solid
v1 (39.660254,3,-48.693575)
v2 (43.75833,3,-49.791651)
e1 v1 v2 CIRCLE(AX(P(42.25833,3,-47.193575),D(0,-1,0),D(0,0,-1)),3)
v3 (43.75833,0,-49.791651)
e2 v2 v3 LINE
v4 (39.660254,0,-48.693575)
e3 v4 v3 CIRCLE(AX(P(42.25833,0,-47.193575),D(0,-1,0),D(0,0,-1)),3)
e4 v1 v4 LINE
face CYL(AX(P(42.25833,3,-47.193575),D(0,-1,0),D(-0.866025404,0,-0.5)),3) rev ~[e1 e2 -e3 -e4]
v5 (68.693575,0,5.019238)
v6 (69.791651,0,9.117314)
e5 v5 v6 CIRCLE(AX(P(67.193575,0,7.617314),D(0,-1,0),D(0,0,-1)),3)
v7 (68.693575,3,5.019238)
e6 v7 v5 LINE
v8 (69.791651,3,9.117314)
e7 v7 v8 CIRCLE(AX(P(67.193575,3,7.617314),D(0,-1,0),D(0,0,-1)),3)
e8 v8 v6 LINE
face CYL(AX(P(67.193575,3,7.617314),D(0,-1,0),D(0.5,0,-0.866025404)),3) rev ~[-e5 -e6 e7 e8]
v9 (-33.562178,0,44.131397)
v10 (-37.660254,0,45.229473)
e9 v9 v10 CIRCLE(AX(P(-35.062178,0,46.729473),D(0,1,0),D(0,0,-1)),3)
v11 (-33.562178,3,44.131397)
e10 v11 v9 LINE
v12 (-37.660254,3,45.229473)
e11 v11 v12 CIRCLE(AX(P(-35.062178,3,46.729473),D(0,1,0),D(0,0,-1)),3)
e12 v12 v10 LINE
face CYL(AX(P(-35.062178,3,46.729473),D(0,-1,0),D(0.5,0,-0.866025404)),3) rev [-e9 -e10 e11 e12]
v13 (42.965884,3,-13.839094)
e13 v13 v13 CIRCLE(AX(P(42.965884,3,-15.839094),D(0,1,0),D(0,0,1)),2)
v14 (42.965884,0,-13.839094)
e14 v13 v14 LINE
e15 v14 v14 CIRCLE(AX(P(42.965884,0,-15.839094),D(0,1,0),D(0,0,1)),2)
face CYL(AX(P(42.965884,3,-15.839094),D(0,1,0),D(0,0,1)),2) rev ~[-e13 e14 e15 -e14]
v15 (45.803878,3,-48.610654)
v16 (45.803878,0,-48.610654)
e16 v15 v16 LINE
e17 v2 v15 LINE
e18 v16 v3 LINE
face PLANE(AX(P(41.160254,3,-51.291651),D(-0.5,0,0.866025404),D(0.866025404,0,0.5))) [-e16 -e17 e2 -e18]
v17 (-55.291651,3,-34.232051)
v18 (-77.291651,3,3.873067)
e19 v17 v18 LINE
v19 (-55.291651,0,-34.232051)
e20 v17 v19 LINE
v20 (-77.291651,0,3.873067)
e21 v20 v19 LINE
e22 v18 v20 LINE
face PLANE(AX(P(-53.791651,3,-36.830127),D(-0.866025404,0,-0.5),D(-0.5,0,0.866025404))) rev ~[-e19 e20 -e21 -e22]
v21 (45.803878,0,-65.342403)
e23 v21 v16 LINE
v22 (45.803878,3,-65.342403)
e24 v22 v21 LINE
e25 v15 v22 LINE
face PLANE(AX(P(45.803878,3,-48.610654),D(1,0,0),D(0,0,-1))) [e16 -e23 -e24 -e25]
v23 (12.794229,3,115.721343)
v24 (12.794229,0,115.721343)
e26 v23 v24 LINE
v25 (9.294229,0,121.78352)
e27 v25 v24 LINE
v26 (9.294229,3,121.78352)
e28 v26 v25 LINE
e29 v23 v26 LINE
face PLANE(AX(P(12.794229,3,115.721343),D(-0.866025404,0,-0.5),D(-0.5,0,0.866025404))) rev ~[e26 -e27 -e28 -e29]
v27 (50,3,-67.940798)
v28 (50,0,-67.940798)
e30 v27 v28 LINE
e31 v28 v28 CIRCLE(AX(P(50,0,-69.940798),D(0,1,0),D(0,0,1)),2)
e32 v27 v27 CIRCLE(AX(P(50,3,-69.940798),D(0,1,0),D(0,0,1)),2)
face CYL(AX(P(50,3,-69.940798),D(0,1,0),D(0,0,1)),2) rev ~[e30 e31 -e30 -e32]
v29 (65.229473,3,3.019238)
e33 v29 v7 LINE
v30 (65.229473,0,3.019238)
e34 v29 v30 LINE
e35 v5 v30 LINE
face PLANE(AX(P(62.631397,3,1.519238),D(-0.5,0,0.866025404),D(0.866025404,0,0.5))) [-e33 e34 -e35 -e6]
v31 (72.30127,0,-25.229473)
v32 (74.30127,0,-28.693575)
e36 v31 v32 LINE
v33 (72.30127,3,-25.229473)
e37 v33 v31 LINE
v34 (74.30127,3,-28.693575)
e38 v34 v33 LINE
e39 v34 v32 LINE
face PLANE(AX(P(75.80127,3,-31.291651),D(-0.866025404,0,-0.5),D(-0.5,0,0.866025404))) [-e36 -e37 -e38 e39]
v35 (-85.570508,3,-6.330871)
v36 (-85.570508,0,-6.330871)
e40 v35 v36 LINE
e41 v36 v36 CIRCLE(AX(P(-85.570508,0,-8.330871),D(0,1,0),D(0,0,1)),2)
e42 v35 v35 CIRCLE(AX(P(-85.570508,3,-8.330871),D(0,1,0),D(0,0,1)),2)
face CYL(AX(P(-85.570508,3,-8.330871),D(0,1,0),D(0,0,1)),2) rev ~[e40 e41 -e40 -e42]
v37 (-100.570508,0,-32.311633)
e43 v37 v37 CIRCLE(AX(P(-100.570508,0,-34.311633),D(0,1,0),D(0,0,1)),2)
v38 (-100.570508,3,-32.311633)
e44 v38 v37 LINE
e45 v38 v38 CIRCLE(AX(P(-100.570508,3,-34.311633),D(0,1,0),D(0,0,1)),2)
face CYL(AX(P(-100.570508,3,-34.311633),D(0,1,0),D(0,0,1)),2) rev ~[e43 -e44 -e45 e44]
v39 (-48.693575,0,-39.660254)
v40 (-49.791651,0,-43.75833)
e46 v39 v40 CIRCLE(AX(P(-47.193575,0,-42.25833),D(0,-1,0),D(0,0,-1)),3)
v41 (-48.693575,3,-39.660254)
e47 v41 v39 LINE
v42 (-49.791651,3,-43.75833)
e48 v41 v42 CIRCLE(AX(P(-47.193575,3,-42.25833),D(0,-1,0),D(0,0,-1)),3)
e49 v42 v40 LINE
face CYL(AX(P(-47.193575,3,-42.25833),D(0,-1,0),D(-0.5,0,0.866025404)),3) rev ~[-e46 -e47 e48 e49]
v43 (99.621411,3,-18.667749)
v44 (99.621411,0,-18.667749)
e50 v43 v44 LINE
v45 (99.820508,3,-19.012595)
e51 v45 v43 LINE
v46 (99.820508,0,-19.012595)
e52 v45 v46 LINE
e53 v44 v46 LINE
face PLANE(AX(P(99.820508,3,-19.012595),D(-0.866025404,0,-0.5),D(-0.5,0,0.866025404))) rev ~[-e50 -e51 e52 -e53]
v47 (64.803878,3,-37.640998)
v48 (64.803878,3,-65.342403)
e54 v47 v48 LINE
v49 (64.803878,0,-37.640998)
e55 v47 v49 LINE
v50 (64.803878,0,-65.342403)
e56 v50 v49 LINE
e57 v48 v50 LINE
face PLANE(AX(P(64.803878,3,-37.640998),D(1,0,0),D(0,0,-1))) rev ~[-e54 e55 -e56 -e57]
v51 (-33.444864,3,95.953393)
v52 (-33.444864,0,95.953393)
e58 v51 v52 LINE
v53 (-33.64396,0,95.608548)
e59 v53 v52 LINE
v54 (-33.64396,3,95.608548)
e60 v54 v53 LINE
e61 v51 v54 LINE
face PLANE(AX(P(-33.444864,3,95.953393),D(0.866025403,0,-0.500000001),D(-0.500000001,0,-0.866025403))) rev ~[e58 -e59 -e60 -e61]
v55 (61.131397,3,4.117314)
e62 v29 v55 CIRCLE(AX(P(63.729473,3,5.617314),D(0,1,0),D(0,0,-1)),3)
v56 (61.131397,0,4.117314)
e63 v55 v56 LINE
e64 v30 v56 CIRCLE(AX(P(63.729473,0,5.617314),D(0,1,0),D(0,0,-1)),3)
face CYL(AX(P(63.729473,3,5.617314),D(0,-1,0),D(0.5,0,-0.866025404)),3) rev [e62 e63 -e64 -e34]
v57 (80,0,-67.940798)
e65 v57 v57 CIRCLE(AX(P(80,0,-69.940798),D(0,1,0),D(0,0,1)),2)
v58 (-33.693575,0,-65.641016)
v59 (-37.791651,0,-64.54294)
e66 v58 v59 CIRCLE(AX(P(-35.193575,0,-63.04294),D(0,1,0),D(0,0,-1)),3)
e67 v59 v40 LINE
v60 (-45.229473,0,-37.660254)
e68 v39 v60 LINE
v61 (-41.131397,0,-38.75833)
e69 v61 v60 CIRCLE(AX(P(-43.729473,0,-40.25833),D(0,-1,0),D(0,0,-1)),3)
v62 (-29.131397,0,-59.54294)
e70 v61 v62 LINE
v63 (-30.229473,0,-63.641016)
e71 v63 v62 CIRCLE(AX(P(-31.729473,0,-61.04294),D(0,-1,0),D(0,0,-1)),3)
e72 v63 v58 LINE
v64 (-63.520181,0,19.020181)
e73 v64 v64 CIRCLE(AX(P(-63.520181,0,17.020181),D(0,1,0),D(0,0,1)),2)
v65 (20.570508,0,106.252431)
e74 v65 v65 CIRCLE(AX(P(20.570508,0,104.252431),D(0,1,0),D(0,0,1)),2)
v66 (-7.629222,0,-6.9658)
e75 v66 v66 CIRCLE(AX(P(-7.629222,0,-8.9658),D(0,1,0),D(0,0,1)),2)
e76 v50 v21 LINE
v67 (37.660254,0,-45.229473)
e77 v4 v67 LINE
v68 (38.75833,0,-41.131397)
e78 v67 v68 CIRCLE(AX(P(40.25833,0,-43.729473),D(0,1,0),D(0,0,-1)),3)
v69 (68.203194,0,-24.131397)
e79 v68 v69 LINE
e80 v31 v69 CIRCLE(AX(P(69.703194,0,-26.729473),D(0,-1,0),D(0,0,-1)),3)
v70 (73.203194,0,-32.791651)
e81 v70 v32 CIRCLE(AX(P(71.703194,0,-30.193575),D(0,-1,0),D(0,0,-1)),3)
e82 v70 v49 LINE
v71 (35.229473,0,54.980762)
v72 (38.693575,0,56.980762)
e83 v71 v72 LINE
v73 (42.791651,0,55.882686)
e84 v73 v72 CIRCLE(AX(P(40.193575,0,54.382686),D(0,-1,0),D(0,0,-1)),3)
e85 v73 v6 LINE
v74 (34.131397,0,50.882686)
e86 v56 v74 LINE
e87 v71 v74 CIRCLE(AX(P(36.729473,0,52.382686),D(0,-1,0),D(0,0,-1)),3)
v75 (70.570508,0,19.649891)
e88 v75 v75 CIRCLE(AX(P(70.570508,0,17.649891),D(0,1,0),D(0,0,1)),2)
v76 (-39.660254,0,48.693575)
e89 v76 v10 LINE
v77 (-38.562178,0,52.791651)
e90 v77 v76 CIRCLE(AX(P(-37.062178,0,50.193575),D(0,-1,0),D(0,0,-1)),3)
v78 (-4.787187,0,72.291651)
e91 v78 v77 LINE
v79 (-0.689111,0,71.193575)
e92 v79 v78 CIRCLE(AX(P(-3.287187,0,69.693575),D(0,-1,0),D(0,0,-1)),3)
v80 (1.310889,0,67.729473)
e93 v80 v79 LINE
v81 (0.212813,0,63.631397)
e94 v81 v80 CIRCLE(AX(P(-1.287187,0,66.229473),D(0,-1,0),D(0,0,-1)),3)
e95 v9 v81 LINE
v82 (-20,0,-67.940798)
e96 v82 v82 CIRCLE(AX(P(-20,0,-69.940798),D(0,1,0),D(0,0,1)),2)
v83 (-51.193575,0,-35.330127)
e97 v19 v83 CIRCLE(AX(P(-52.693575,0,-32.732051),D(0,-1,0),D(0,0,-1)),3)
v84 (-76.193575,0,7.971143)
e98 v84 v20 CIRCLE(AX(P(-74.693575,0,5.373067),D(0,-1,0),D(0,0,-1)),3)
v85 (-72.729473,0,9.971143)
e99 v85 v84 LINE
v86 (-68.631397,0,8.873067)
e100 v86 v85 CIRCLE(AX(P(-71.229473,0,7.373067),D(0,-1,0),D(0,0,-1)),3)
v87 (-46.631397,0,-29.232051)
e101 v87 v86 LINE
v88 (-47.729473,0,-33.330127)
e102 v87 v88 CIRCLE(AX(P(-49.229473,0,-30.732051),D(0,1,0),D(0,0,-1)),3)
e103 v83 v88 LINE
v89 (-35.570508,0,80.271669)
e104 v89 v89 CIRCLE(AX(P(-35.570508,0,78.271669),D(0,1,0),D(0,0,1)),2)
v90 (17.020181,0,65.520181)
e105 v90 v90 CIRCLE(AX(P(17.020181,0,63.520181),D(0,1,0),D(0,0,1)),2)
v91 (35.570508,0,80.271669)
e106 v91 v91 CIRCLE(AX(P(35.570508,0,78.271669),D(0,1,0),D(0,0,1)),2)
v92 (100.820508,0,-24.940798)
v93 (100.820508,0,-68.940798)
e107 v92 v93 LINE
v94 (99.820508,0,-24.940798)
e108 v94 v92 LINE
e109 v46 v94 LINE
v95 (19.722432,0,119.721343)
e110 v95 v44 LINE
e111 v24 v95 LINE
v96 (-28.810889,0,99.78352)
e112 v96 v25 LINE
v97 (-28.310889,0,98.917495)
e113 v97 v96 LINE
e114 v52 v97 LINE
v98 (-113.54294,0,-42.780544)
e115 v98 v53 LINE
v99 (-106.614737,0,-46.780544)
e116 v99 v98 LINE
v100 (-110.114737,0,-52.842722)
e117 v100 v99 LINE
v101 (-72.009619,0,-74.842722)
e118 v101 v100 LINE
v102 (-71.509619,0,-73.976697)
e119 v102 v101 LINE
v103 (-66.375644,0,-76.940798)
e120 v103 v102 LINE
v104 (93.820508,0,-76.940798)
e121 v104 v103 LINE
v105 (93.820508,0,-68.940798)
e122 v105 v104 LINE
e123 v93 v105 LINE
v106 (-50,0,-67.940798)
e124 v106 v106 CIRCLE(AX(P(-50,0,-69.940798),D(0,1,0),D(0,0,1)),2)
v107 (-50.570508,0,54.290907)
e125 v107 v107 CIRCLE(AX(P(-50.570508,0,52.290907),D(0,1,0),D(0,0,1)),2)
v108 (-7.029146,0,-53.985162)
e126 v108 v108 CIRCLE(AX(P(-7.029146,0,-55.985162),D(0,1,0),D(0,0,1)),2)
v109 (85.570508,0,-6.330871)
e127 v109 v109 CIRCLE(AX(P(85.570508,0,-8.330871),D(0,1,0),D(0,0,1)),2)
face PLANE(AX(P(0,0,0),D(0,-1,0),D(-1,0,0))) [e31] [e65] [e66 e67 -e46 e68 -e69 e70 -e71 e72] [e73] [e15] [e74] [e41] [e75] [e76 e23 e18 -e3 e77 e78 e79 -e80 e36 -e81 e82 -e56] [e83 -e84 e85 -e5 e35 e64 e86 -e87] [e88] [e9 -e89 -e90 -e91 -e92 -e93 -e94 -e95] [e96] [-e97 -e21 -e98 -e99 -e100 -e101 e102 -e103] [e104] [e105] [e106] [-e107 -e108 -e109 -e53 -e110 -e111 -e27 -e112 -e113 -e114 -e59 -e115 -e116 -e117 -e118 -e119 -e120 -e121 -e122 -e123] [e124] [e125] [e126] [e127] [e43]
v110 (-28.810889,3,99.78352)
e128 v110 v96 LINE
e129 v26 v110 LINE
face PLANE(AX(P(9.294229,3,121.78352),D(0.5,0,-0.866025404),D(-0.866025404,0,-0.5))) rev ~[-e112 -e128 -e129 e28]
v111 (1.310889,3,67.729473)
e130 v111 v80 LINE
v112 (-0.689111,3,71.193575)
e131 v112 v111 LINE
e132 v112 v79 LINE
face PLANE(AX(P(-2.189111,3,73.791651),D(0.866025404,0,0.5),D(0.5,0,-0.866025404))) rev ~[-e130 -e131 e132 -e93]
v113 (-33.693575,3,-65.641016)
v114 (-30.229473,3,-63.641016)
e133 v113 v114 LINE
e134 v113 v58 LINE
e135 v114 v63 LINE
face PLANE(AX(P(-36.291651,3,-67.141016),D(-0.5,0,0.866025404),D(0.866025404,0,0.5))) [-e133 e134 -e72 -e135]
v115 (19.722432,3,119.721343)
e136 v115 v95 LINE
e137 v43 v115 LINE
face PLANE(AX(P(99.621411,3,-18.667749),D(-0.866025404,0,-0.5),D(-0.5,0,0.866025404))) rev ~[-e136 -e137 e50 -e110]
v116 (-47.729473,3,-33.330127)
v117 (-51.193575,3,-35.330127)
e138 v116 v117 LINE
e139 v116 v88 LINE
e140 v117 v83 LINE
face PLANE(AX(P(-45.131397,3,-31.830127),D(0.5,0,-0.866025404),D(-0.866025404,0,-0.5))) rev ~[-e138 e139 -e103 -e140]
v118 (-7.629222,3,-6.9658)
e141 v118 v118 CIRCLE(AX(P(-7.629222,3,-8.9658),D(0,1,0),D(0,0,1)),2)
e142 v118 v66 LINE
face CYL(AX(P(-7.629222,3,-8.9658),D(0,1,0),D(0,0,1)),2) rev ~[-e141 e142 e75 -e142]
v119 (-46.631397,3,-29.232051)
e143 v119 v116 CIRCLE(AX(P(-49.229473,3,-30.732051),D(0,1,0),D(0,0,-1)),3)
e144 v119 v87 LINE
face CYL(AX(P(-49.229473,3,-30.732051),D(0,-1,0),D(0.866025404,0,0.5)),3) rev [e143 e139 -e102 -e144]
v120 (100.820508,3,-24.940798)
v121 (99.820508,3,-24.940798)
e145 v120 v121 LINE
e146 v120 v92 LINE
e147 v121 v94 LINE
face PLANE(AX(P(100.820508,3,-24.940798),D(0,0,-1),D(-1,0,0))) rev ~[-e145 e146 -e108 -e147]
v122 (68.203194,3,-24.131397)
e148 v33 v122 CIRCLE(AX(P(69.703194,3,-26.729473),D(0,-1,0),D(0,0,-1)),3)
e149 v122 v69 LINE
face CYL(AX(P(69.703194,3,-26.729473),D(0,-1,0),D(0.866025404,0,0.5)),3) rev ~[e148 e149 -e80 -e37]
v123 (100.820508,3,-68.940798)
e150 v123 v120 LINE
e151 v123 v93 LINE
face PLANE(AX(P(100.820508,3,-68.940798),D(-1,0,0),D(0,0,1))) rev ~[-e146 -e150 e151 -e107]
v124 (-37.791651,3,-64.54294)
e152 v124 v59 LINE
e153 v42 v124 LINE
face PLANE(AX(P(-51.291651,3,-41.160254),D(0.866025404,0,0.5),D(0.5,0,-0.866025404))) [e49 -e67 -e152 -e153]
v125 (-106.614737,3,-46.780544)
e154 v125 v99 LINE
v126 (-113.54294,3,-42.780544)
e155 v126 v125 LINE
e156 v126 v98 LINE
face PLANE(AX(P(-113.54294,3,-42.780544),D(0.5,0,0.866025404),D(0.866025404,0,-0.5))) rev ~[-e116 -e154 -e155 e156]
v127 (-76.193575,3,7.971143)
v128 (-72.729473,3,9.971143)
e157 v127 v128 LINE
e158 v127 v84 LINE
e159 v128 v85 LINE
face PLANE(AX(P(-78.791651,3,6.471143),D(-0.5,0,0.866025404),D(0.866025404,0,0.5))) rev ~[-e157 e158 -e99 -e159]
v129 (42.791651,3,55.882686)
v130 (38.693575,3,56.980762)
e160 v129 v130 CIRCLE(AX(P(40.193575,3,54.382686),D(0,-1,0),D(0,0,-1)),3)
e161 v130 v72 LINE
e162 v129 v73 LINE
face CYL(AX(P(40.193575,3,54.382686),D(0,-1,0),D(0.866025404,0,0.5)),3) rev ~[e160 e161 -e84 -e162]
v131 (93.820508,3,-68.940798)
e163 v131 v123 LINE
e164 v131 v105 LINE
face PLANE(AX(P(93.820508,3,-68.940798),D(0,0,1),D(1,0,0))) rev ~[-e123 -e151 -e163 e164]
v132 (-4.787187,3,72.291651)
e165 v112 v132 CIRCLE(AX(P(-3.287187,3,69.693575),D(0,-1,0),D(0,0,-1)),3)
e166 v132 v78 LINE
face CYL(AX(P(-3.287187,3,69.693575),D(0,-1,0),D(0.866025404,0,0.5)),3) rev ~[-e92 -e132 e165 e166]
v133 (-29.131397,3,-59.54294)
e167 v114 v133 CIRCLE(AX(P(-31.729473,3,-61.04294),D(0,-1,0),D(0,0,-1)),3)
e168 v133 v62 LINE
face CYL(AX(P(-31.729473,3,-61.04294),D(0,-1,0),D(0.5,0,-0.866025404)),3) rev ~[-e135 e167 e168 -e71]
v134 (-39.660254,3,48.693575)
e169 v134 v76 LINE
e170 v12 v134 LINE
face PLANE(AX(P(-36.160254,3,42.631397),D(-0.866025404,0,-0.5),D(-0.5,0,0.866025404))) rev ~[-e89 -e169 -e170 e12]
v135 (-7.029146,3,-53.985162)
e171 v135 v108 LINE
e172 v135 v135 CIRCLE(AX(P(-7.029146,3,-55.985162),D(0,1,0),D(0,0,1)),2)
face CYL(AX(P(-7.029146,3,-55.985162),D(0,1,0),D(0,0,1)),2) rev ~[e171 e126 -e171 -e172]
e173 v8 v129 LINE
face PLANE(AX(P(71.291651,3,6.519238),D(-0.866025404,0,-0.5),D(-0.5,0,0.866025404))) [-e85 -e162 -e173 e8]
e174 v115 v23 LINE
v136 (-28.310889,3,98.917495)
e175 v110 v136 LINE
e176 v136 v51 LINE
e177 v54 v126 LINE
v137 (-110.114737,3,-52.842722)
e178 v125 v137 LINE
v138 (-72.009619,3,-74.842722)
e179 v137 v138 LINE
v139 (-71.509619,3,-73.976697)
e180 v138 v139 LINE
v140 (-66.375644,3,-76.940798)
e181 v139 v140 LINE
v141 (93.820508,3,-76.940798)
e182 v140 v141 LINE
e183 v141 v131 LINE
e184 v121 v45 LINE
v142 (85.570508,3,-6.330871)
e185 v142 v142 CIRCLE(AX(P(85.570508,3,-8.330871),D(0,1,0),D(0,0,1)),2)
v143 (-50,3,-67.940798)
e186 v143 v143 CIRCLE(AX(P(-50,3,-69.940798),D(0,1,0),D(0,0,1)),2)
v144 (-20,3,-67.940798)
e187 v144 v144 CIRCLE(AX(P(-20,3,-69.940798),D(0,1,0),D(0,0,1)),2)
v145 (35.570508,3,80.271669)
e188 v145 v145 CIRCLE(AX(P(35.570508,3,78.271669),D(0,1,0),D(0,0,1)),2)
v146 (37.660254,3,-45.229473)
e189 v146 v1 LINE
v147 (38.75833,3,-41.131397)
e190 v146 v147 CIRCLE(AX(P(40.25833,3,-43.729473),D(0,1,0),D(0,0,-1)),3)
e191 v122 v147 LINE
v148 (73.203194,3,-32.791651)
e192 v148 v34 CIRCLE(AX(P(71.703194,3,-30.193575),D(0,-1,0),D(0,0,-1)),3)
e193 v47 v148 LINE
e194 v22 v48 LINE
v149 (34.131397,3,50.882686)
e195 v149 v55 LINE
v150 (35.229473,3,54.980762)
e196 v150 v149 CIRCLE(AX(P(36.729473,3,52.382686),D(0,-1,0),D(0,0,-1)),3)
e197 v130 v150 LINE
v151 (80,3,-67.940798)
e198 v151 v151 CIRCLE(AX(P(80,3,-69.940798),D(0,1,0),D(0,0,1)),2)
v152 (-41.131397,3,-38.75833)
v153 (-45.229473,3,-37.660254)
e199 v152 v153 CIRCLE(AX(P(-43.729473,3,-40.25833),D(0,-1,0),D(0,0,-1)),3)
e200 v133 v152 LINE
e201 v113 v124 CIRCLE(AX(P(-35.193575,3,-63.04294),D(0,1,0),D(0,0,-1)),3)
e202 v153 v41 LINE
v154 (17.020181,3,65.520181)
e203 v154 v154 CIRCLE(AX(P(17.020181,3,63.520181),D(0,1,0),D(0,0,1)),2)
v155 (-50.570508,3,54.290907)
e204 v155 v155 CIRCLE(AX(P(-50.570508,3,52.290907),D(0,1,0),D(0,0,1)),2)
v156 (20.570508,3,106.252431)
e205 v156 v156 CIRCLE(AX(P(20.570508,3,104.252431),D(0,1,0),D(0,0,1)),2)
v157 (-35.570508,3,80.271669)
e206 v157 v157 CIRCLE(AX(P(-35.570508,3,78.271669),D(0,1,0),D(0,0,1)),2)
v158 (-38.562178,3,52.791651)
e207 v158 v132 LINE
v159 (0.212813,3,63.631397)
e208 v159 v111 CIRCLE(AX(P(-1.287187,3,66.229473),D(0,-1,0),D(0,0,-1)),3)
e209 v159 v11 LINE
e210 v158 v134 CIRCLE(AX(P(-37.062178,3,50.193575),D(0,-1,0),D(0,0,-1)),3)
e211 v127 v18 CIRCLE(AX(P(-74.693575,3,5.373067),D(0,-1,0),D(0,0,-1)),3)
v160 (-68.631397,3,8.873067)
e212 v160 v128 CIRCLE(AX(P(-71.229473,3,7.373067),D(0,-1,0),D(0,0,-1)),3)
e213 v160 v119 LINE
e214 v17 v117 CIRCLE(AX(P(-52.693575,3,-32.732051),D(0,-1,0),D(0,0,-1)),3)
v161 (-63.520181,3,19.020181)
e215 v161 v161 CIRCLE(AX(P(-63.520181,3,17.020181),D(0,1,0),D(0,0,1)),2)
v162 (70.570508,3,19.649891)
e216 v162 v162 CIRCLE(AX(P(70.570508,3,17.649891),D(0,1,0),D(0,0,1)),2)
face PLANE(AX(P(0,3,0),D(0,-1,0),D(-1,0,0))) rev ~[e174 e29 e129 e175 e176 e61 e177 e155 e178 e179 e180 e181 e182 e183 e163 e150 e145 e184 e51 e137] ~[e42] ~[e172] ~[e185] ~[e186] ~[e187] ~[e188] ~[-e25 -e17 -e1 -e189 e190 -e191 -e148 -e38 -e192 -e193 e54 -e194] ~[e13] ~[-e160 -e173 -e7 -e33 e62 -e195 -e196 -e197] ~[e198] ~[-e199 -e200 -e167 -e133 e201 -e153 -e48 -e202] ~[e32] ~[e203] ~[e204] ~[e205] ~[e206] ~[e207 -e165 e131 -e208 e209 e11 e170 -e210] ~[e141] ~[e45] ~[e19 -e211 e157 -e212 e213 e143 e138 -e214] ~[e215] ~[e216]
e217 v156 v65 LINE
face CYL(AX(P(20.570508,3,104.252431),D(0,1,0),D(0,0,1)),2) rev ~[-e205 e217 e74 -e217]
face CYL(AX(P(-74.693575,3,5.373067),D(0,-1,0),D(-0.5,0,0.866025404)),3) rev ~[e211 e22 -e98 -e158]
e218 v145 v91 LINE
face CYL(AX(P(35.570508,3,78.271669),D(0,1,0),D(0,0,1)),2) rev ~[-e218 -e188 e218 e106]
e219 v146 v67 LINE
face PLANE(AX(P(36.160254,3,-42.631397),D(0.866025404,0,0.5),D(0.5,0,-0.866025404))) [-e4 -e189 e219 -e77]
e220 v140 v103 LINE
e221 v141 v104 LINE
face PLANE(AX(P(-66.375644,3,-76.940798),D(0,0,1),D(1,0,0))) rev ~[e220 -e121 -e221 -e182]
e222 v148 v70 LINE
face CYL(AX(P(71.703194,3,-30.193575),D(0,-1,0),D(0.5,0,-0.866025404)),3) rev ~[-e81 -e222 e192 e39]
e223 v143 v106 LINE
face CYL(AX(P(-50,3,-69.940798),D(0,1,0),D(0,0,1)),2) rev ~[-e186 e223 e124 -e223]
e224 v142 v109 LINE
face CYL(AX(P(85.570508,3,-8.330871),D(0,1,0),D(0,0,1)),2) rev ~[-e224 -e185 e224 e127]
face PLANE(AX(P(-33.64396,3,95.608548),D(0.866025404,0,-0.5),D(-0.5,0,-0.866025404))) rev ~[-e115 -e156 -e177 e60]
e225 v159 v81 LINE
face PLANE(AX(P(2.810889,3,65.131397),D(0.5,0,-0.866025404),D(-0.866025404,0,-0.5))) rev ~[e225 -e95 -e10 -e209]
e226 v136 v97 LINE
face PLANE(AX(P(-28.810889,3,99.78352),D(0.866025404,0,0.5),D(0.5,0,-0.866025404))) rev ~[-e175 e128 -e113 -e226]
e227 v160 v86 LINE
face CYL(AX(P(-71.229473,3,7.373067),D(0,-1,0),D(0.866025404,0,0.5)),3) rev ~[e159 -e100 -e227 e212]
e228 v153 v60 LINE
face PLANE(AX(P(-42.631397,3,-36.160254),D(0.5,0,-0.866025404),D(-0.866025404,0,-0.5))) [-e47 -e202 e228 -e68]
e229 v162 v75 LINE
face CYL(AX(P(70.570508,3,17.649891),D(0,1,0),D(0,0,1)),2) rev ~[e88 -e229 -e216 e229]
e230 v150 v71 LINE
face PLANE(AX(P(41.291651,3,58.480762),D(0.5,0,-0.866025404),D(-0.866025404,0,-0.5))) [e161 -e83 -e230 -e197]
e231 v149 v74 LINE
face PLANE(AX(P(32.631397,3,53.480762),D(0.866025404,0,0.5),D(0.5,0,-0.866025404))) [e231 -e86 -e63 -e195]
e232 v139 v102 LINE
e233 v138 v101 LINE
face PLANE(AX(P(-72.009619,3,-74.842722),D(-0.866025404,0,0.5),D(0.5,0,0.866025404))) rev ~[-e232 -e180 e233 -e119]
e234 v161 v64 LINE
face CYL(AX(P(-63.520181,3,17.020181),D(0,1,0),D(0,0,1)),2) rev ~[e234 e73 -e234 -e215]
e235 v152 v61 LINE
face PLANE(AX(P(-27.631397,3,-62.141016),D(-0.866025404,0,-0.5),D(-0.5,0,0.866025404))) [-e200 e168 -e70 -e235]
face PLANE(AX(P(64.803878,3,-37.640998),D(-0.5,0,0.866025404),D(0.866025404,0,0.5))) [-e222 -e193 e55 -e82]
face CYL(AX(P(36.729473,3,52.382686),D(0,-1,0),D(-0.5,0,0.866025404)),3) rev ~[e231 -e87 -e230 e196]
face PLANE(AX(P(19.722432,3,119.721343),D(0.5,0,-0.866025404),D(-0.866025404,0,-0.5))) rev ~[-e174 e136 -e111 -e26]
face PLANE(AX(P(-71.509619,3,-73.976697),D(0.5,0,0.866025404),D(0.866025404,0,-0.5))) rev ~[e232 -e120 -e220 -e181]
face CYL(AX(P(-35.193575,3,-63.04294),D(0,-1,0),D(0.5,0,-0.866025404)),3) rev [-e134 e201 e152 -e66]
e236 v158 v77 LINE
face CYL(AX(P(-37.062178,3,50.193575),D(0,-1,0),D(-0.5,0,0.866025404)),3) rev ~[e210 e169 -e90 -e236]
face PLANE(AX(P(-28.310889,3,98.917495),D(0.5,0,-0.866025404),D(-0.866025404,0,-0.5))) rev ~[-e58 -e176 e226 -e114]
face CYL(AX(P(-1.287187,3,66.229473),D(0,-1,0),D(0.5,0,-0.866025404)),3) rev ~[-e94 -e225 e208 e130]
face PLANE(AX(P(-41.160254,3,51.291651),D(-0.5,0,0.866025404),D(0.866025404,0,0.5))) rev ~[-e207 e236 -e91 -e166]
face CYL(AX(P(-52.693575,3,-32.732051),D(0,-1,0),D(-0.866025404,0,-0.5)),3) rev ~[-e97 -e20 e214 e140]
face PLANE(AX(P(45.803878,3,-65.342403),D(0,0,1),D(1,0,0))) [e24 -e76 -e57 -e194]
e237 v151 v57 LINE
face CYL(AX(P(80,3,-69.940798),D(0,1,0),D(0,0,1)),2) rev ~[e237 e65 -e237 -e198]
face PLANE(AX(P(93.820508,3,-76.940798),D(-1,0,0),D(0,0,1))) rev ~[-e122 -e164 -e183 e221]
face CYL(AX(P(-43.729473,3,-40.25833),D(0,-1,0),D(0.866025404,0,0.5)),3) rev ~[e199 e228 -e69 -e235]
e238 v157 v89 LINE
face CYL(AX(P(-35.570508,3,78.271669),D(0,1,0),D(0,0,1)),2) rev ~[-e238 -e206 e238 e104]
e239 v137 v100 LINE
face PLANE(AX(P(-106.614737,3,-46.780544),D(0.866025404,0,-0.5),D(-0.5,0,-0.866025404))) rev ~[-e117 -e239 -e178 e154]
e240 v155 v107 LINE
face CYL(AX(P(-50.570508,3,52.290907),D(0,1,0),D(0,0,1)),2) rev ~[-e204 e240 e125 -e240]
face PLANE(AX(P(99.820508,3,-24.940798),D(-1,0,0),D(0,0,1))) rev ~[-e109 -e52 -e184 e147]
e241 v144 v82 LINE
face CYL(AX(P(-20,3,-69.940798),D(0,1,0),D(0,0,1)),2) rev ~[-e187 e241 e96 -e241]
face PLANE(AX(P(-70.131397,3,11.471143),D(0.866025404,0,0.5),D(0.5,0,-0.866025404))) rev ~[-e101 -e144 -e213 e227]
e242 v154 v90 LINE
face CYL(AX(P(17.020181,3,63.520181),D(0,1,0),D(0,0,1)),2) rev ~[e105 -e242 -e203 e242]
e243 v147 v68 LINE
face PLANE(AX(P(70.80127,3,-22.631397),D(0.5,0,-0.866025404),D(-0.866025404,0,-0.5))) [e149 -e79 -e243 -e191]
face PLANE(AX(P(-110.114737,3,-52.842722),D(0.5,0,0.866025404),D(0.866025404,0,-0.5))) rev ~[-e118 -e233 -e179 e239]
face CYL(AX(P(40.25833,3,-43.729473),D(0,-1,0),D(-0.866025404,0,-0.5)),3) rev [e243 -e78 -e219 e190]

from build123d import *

# Parameters (mm, degrees)
EXTRUSION1_DEPTH         = 3
ENL_V_MAT_EXTRU_14_REACH = 176.1
ESQUISSE8_R              = 2
ESQUISSE10_R             = 2
ENL_V_MAT_EXTRU_16_DEPTH = 175.099861741
ENL_V_MAT_EXTRU_17_DEPTH = 175.099861741
ENL_V_MAT_EXTRU_18_DEPTH = 167.529952384
CONG_1_R                 = 3


with BuildPart() as part:
    # Esquisse1 → Extrusion1 (new body)
    with BuildSketch(Plane(origin=(0, 0, 0), x_dir=(1, 0, 0), z_dir=(0, 1, 0))):
        Polygon((-64.179491924, 79.940798285), (98.820508076, 79.940798285), (103.820508076, 74.940798285), (103.820508076, 24.940798285), (101.320508076, 15.610671266), (19.820508076, -125.551469551), (12.990381057, -127.38159657), (-30.310889132, -102.38159657), (-37.141016151, -95.551469551), (-118.641016151, 45.610671266), (-116.810889132, 52.440798285), (-73.509618943, 77.440798285), align=None)
    extrude(amount=EXTRUSION1_DEPTH)

    # Esquisse8 → Enlèv. mat.-Extru.14 (cut, up to next)
    with BuildSketch(Plane(origin=(0, 3, 0), x_dir=(1, 0, 0), z_dir=(0, 1, 0)), mode=Mode.PRIVATE) as enl_v_mat_extru_14_sk1:
        with Locations(Location((-100.570508076, 34.31163316, 0), (0, 0, 270))):
            Circle(ESQUISSE8_R)
    enl_v_mat_extru_14_tool1 = extrude(enl_v_mat_extru_14_sk1.sketch, amount=-ENL_V_MAT_EXTRU_14_REACH, mode=Mode.PRIVATE) & part.part
    # Esquisse8 → Enlèv. mat.-Extru.14 (cut, up to next)
    with BuildSketch(Plane(origin=(0, 3, 0), x_dir=(1, 0, 0), z_dir=(0, 1, 0)), mode=Mode.PRIVATE) as enl_v_mat_extru_14_sk2:
        with Locations(Location((80, 69.940798285, 0), (0, 0, 270))):
            Circle(ESQUISSE8_R)
    enl_v_mat_extru_14_tool2 = extrude(enl_v_mat_extru_14_sk2.sketch, amount=-ENL_V_MAT_EXTRU_14_REACH, mode=Mode.PRIVATE) & part.part
    # Esquisse8 → Enlèv. mat.-Extru.14 (cut, up to next)
    with BuildSketch(Plane(origin=(0, 3, 0), x_dir=(1, 0, 0), z_dir=(0, 1, 0)), mode=Mode.PRIVATE) as enl_v_mat_extru_14_sk3:
        with Locations(Location((50, 69.940798285, 0), (0, 0, 270))):
            Circle(ESQUISSE8_R)
    enl_v_mat_extru_14_tool3 = extrude(enl_v_mat_extru_14_sk3.sketch, amount=-ENL_V_MAT_EXTRU_14_REACH, mode=Mode.PRIVATE) & part.part
    # Esquisse8 → Enlèv. mat.-Extru.14 (cut, up to next)
    with BuildSketch(Plane(origin=(0, 3, 0), x_dir=(1, 0, 0), z_dir=(0, 1, 0)), mode=Mode.PRIVATE) as enl_v_mat_extru_14_sk4:
        with Locations(Location((-50.570508076, -52.290907218, 0), (0, 0, 270))):
            Circle(ESQUISSE8_R)
    enl_v_mat_extru_14_tool4 = extrude(enl_v_mat_extru_14_sk4.sketch, amount=-ENL_V_MAT_EXTRU_14_REACH, mode=Mode.PRIVATE) & part.part
    # Esquisse8 → Enlèv. mat.-Extru.14 (cut, up to next)
    with BuildSketch(Plane(origin=(0, 3, 0), x_dir=(1, 0, 0), z_dir=(0, 1, 0)), mode=Mode.PRIVATE) as enl_v_mat_extru_14_sk5:
        with Locations(Location((-35.570508076, -78.271669332, 0), (0, 0, 270))):
            Circle(ESQUISSE8_R)
    enl_v_mat_extru_14_tool5 = extrude(enl_v_mat_extru_14_sk5.sketch, amount=-ENL_V_MAT_EXTRU_14_REACH, mode=Mode.PRIVATE) & part.part
    # Esquisse8 → Enlèv. mat.-Extru.14 (cut, up to next)
    with BuildSketch(Plane(origin=(0, 3, 0), x_dir=(1, 0, 0), z_dir=(0, 1, 0)), mode=Mode.PRIVATE) as enl_v_mat_extru_14_sk6:
        with Locations(Location((-20, 69.940798285, 0), (0, 0, 270))):
            Circle(ESQUISSE8_R)
    enl_v_mat_extru_14_tool6 = extrude(enl_v_mat_extru_14_sk6.sketch, amount=-ENL_V_MAT_EXTRU_14_REACH, mode=Mode.PRIVATE) & part.part
    # Esquisse8 → Enlèv. mat.-Extru.14 (cut, up to next)
    with BuildSketch(Plane(origin=(0, 3, 0), x_dir=(1, 0, 0), z_dir=(0, 1, 0)), mode=Mode.PRIVATE) as enl_v_mat_extru_14_sk7:
        with Locations(Location((-50, 69.940798285, 0), (0, 0, 270))):
            Circle(ESQUISSE8_R)
    enl_v_mat_extru_14_tool7 = extrude(enl_v_mat_extru_14_sk7.sketch, amount=-ENL_V_MAT_EXTRU_14_REACH, mode=Mode.PRIVATE) & part.part
    # Esquisse8 → Enlèv. mat.-Extru.14 (cut, up to next)
    with BuildSketch(Plane(origin=(0, 3, 0), x_dir=(1, 0, 0), z_dir=(0, 1, 0)), mode=Mode.PRIVATE) as enl_v_mat_extru_14_sk8:
        with Locations(Location((20.570508076, -104.252431445, 0), (0, 0, 270))):
            Circle(ESQUISSE8_R)
    enl_v_mat_extru_14_tool8 = extrude(enl_v_mat_extru_14_sk8.sketch, amount=-ENL_V_MAT_EXTRU_14_REACH, mode=Mode.PRIVATE) & part.part
    # Esquisse8 → Enlèv. mat.-Extru.14 (cut, up to next)
    with BuildSketch(Plane(origin=(0, 3, 0), x_dir=(1, 0, 0), z_dir=(0, 1, 0)), mode=Mode.PRIVATE) as enl_v_mat_extru_14_sk9:
        with Locations(Location((35.570508076, -78.271669332, 0), (0, 0, 270))):
            Circle(ESQUISSE8_R)
    enl_v_mat_extru_14_tool9 = extrude(enl_v_mat_extru_14_sk9.sketch, amount=-ENL_V_MAT_EXTRU_14_REACH, mode=Mode.PRIVATE) & part.part
    # Esquisse8 → Enlèv. mat.-Extru.14 (cut, up to next)
    with BuildSketch(Plane(origin=(0, 3, 0), x_dir=(1, 0, 0), z_dir=(0, 1, 0)), mode=Mode.PRIVATE) as enl_v_mat_extru_14_sk10:
        with Locations(Location((-85.570508076, 8.330871047, 0), (0, 0, 270))):
            Circle(ESQUISSE8_R)
    enl_v_mat_extru_14_tool10 = extrude(enl_v_mat_extru_14_sk10.sketch, amount=-ENL_V_MAT_EXTRU_14_REACH, mode=Mode.PRIVATE) & part.part
    # Esquisse8 → Enlèv. mat.-Extru.14 (cut, up to next)
    with BuildSketch(Plane(origin=(0, 3, 0), x_dir=(1, 0, 0), z_dir=(0, 1, 0)), mode=Mode.PRIVATE) as enl_v_mat_extru_14_sk11:
        with Locations(Location((70.570508076, -17.649891067, 0), (0, 0, 270))):
            Circle(ESQUISSE8_R)
    enl_v_mat_extru_14_tool11 = extrude(enl_v_mat_extru_14_sk11.sketch, amount=-ENL_V_MAT_EXTRU_14_REACH, mode=Mode.PRIVATE) & part.part
    # Esquisse8 → Enlèv. mat.-Extru.14 (cut, up to next)
    with BuildSketch(Plane(origin=(0, 3, 0), x_dir=(1, 0, 0), z_dir=(0, 1, 0)), mode=Mode.PRIVATE) as enl_v_mat_extru_14_sk12:
        with Locations(Location((85.570508076, 8.330871047, 0), (0, 0, 270))):
            Circle(ESQUISSE8_R)
    enl_v_mat_extru_14_tool12 = extrude(enl_v_mat_extru_14_sk12.sketch, amount=-ENL_V_MAT_EXTRU_14_REACH, mode=Mode.PRIVATE) & part.part
    add(enl_v_mat_extru_14_tool1.solids().sort_by_distance((-100.570508, 3, -34.311633))[0], mode=Mode.SUBTRACT)
    add(enl_v_mat_extru_14_tool2.solids().sort_by_distance((80, 3, -69.940798))[0], mode=Mode.SUBTRACT)
    add(enl_v_mat_extru_14_tool3.solids().sort_by_distance((50, 3, -69.940798))[0], mode=Mode.SUBTRACT)
    add(enl_v_mat_extru_14_tool4.solids().sort_by_distance((-50.570508, 3, 52.290907))[0], mode=Mode.SUBTRACT)
    add(enl_v_mat_extru_14_tool5.solids().sort_by_distance((-35.570508, 3, 78.271669))[0], mode=Mode.SUBTRACT)
    add(enl_v_mat_extru_14_tool6.solids().sort_by_distance((-20, 3, -69.940798))[0], mode=Mode.SUBTRACT)
    add(enl_v_mat_extru_14_tool7.solids().sort_by_distance((-50, 3, -69.940798))[0], mode=Mode.SUBTRACT)
    add(enl_v_mat_extru_14_tool8.solids().sort_by_distance((20.570508, 3, 104.252431))[0], mode=Mode.SUBTRACT)
    add(enl_v_mat_extru_14_tool9.solids().sort_by_distance((35.570508, 3, 78.271669))[0], mode=Mode.SUBTRACT)
    add(enl_v_mat_extru_14_tool10.solids().sort_by_distance((-85.570508, 3, -8.330871))[0], mode=Mode.SUBTRACT)
    add(enl_v_mat_extru_14_tool11.solids().sort_by_distance((70.570508, 3, 17.649891))[0], mode=Mode.SUBTRACT)
    add(enl_v_mat_extru_14_tool12.solids().sort_by_distance((85.570508, 3, -8.330871))[0], mode=Mode.SUBTRACT)

    # Esquisse10 → Enlèv. mat.-Extru.16 (cut, through all)
    with BuildSketch(Plane(origin=(0, 3, 0), x_dir=(1, 0, 0), z_dir=(0, 1, 0))):
        with Locations(Location((-63.520181276, -17.020181276, 0), (0, 0, 270))):
            Circle(ESQUISSE10_R)
        with Locations(Location((17.020181276, -63.520181276, 0), (0, 0, 270))):
            Circle(ESQUISSE10_R)
        with Locations(Location((42.965884077, 15.839094213, 0), (0, 0, 270))):
            Circle(ESQUISSE10_R)
        with Locations(Location((-7.629221728, 8.965800345, 0), (0, 0, 270))):
            Circle(ESQUISSE10_R)
        with Locations(Location((-7.029145761, 55.985162408, 0), (0, 0, 270))):
            Circle(ESQUISSE10_R)
    extrude(amount=-ENL_V_MAT_EXTRU_16_DEPTH, mode=Mode.SUBTRACT)

    # Esquisse12 → Enlèv. mat.-Extru.17 (cut, through all)
    with BuildSketch(Plane(origin=(0, 3, 0), x_dir=(1, 0, 0), z_dir=(0, 1, 0))):
        Polygon((-30.310889132, -102.38159657), (12.990381057, -127.38159657), (19.820508076, -125.551469551), (101.320508076, 15.610671266), (103.820508076, 24.940798285), (103.820508076, 74.940798285), (98.820508076, 79.940798285), (-64.179491924, 79.940798285), (-73.509618943, 77.440798285), (-116.810889132, 52.440798285), (-118.641016151, 45.610671266), (-37.141016151, -95.551469551), align=None)
        Polygon((99.62141135, 18.66774941), (19.722431865, -119.721342532), (12.794228635, -115.721342532), (9.294228635, -121.783520358), (-28.810889132, -99.783520358), (-28.310889132, -98.917494954), (-33.444863728, -95.953393339), (-33.643960454, -95.608547695), (-113.54293994, 42.780544247), (-106.61473671, 46.780544247), (-110.11473671, 52.842722074), (-72.009618943, 74.842722074), (-71.509618943, 73.97669667), (-66.375644347, 76.940798285), (-65.977450895, 76.940798285), (93.820508076, 76.940798285), (93.820508076, 68.940798285), (100.820508076, 68.940798285), (100.820508076, 24.940798285), (99.820508076, 24.940798285), (99.820508076, 19.012595055), align=None, mode=Mode.SUBTRACT)
    extrude(amount=-ENL_V_MAT_EXTRU_17_DEPTH, mode=Mode.SUBTRACT)

    # Esquisse13 → Enlèv. mat.-Extru.18 (cut, through all)
    with BuildSketch(Plane(origin=(0, 3, 0), x_dir=(1, 0, 0), z_dir=(0, 1, 0))):
        Polygon((-70.131397208, -11.47114317), (-45.131397208, 31.830127019), (-53.791651246, 36.830127019), (-78.791651246, -6.47114317), align=None)
        Polygon((-51.291651246, 41.160254038), (-36.291651246, 67.141016151), (-27.631397208, 62.141016151), (-42.631397208, 36.160254038), align=None)
        Polygon((32.631397208, -53.480762114), (62.631397208, -1.519237886), (71.291651246, -6.519237886), (41.291651246, -58.480762114), align=None)
        Polygon((70.801270189, 22.631397208), (36.160254038, 42.631397208), (41.160254038, 51.291651246), (45.803878216, 48.610653577), (45.803878216, 65.342402688), (64.803878216, 65.342402688), (64.803878216, 46.342402688), (64.803878216, 37.640998462), (75.801270189, 31.291651246), align=None)
        Polygon((2.810889132, -65.131397208), (-36.160254038, -42.631397208), (-41.160254038, -51.291651246), (-2.189110868, -73.791651246), align=None)
    extrude(amount=-ENL_V_MAT_EXTRU_18_DEPTH, mode=Mode.SUBTRACT)

    # Congé1
    cong_1_edges = [part.edges().sort_by_distance(p)[0] for p in [
        (-70.131397208, 1.5, 11.47114317),
        (-78.791651246, 1.5, 6.47114317),
        (-53.791651246, 1.5, -36.830127019),
        (-45.131397208, 1.5, -31.830127019),
        (2.810889132, 1.5, 65.131397208),
        (-2.189110868, 1.5, 73.791651246),
        (-41.160254038, 1.5, 51.291651246),
        (-36.160254038, 1.5, 42.631397208),
        (75.801270189, 1.5, -31.291651246),
        (70.801270189, 1.5, -22.631397208),
        (36.160254038, 1.5, -42.631397208),
        (41.160254038, 1.5, -51.291651246),
        (71.291651246, 1.5, 6.519237886),
        (41.291651246, 1.5, 58.480762114),
        (32.631397208, 1.5, 53.480762114),
        (62.631397208, 1.5, 1.519237886),
        (-42.631397208, 1.5, -36.160254038),
        (-51.291651246, 1.5, -41.160254038),
        (-36.291651246, 1.5, -67.141016151),
        (-27.631397208, 1.5, -62.141016151),
    ]]
    fillet(cong_1_edges, radius=CONG_1_R)


solid = part.part
